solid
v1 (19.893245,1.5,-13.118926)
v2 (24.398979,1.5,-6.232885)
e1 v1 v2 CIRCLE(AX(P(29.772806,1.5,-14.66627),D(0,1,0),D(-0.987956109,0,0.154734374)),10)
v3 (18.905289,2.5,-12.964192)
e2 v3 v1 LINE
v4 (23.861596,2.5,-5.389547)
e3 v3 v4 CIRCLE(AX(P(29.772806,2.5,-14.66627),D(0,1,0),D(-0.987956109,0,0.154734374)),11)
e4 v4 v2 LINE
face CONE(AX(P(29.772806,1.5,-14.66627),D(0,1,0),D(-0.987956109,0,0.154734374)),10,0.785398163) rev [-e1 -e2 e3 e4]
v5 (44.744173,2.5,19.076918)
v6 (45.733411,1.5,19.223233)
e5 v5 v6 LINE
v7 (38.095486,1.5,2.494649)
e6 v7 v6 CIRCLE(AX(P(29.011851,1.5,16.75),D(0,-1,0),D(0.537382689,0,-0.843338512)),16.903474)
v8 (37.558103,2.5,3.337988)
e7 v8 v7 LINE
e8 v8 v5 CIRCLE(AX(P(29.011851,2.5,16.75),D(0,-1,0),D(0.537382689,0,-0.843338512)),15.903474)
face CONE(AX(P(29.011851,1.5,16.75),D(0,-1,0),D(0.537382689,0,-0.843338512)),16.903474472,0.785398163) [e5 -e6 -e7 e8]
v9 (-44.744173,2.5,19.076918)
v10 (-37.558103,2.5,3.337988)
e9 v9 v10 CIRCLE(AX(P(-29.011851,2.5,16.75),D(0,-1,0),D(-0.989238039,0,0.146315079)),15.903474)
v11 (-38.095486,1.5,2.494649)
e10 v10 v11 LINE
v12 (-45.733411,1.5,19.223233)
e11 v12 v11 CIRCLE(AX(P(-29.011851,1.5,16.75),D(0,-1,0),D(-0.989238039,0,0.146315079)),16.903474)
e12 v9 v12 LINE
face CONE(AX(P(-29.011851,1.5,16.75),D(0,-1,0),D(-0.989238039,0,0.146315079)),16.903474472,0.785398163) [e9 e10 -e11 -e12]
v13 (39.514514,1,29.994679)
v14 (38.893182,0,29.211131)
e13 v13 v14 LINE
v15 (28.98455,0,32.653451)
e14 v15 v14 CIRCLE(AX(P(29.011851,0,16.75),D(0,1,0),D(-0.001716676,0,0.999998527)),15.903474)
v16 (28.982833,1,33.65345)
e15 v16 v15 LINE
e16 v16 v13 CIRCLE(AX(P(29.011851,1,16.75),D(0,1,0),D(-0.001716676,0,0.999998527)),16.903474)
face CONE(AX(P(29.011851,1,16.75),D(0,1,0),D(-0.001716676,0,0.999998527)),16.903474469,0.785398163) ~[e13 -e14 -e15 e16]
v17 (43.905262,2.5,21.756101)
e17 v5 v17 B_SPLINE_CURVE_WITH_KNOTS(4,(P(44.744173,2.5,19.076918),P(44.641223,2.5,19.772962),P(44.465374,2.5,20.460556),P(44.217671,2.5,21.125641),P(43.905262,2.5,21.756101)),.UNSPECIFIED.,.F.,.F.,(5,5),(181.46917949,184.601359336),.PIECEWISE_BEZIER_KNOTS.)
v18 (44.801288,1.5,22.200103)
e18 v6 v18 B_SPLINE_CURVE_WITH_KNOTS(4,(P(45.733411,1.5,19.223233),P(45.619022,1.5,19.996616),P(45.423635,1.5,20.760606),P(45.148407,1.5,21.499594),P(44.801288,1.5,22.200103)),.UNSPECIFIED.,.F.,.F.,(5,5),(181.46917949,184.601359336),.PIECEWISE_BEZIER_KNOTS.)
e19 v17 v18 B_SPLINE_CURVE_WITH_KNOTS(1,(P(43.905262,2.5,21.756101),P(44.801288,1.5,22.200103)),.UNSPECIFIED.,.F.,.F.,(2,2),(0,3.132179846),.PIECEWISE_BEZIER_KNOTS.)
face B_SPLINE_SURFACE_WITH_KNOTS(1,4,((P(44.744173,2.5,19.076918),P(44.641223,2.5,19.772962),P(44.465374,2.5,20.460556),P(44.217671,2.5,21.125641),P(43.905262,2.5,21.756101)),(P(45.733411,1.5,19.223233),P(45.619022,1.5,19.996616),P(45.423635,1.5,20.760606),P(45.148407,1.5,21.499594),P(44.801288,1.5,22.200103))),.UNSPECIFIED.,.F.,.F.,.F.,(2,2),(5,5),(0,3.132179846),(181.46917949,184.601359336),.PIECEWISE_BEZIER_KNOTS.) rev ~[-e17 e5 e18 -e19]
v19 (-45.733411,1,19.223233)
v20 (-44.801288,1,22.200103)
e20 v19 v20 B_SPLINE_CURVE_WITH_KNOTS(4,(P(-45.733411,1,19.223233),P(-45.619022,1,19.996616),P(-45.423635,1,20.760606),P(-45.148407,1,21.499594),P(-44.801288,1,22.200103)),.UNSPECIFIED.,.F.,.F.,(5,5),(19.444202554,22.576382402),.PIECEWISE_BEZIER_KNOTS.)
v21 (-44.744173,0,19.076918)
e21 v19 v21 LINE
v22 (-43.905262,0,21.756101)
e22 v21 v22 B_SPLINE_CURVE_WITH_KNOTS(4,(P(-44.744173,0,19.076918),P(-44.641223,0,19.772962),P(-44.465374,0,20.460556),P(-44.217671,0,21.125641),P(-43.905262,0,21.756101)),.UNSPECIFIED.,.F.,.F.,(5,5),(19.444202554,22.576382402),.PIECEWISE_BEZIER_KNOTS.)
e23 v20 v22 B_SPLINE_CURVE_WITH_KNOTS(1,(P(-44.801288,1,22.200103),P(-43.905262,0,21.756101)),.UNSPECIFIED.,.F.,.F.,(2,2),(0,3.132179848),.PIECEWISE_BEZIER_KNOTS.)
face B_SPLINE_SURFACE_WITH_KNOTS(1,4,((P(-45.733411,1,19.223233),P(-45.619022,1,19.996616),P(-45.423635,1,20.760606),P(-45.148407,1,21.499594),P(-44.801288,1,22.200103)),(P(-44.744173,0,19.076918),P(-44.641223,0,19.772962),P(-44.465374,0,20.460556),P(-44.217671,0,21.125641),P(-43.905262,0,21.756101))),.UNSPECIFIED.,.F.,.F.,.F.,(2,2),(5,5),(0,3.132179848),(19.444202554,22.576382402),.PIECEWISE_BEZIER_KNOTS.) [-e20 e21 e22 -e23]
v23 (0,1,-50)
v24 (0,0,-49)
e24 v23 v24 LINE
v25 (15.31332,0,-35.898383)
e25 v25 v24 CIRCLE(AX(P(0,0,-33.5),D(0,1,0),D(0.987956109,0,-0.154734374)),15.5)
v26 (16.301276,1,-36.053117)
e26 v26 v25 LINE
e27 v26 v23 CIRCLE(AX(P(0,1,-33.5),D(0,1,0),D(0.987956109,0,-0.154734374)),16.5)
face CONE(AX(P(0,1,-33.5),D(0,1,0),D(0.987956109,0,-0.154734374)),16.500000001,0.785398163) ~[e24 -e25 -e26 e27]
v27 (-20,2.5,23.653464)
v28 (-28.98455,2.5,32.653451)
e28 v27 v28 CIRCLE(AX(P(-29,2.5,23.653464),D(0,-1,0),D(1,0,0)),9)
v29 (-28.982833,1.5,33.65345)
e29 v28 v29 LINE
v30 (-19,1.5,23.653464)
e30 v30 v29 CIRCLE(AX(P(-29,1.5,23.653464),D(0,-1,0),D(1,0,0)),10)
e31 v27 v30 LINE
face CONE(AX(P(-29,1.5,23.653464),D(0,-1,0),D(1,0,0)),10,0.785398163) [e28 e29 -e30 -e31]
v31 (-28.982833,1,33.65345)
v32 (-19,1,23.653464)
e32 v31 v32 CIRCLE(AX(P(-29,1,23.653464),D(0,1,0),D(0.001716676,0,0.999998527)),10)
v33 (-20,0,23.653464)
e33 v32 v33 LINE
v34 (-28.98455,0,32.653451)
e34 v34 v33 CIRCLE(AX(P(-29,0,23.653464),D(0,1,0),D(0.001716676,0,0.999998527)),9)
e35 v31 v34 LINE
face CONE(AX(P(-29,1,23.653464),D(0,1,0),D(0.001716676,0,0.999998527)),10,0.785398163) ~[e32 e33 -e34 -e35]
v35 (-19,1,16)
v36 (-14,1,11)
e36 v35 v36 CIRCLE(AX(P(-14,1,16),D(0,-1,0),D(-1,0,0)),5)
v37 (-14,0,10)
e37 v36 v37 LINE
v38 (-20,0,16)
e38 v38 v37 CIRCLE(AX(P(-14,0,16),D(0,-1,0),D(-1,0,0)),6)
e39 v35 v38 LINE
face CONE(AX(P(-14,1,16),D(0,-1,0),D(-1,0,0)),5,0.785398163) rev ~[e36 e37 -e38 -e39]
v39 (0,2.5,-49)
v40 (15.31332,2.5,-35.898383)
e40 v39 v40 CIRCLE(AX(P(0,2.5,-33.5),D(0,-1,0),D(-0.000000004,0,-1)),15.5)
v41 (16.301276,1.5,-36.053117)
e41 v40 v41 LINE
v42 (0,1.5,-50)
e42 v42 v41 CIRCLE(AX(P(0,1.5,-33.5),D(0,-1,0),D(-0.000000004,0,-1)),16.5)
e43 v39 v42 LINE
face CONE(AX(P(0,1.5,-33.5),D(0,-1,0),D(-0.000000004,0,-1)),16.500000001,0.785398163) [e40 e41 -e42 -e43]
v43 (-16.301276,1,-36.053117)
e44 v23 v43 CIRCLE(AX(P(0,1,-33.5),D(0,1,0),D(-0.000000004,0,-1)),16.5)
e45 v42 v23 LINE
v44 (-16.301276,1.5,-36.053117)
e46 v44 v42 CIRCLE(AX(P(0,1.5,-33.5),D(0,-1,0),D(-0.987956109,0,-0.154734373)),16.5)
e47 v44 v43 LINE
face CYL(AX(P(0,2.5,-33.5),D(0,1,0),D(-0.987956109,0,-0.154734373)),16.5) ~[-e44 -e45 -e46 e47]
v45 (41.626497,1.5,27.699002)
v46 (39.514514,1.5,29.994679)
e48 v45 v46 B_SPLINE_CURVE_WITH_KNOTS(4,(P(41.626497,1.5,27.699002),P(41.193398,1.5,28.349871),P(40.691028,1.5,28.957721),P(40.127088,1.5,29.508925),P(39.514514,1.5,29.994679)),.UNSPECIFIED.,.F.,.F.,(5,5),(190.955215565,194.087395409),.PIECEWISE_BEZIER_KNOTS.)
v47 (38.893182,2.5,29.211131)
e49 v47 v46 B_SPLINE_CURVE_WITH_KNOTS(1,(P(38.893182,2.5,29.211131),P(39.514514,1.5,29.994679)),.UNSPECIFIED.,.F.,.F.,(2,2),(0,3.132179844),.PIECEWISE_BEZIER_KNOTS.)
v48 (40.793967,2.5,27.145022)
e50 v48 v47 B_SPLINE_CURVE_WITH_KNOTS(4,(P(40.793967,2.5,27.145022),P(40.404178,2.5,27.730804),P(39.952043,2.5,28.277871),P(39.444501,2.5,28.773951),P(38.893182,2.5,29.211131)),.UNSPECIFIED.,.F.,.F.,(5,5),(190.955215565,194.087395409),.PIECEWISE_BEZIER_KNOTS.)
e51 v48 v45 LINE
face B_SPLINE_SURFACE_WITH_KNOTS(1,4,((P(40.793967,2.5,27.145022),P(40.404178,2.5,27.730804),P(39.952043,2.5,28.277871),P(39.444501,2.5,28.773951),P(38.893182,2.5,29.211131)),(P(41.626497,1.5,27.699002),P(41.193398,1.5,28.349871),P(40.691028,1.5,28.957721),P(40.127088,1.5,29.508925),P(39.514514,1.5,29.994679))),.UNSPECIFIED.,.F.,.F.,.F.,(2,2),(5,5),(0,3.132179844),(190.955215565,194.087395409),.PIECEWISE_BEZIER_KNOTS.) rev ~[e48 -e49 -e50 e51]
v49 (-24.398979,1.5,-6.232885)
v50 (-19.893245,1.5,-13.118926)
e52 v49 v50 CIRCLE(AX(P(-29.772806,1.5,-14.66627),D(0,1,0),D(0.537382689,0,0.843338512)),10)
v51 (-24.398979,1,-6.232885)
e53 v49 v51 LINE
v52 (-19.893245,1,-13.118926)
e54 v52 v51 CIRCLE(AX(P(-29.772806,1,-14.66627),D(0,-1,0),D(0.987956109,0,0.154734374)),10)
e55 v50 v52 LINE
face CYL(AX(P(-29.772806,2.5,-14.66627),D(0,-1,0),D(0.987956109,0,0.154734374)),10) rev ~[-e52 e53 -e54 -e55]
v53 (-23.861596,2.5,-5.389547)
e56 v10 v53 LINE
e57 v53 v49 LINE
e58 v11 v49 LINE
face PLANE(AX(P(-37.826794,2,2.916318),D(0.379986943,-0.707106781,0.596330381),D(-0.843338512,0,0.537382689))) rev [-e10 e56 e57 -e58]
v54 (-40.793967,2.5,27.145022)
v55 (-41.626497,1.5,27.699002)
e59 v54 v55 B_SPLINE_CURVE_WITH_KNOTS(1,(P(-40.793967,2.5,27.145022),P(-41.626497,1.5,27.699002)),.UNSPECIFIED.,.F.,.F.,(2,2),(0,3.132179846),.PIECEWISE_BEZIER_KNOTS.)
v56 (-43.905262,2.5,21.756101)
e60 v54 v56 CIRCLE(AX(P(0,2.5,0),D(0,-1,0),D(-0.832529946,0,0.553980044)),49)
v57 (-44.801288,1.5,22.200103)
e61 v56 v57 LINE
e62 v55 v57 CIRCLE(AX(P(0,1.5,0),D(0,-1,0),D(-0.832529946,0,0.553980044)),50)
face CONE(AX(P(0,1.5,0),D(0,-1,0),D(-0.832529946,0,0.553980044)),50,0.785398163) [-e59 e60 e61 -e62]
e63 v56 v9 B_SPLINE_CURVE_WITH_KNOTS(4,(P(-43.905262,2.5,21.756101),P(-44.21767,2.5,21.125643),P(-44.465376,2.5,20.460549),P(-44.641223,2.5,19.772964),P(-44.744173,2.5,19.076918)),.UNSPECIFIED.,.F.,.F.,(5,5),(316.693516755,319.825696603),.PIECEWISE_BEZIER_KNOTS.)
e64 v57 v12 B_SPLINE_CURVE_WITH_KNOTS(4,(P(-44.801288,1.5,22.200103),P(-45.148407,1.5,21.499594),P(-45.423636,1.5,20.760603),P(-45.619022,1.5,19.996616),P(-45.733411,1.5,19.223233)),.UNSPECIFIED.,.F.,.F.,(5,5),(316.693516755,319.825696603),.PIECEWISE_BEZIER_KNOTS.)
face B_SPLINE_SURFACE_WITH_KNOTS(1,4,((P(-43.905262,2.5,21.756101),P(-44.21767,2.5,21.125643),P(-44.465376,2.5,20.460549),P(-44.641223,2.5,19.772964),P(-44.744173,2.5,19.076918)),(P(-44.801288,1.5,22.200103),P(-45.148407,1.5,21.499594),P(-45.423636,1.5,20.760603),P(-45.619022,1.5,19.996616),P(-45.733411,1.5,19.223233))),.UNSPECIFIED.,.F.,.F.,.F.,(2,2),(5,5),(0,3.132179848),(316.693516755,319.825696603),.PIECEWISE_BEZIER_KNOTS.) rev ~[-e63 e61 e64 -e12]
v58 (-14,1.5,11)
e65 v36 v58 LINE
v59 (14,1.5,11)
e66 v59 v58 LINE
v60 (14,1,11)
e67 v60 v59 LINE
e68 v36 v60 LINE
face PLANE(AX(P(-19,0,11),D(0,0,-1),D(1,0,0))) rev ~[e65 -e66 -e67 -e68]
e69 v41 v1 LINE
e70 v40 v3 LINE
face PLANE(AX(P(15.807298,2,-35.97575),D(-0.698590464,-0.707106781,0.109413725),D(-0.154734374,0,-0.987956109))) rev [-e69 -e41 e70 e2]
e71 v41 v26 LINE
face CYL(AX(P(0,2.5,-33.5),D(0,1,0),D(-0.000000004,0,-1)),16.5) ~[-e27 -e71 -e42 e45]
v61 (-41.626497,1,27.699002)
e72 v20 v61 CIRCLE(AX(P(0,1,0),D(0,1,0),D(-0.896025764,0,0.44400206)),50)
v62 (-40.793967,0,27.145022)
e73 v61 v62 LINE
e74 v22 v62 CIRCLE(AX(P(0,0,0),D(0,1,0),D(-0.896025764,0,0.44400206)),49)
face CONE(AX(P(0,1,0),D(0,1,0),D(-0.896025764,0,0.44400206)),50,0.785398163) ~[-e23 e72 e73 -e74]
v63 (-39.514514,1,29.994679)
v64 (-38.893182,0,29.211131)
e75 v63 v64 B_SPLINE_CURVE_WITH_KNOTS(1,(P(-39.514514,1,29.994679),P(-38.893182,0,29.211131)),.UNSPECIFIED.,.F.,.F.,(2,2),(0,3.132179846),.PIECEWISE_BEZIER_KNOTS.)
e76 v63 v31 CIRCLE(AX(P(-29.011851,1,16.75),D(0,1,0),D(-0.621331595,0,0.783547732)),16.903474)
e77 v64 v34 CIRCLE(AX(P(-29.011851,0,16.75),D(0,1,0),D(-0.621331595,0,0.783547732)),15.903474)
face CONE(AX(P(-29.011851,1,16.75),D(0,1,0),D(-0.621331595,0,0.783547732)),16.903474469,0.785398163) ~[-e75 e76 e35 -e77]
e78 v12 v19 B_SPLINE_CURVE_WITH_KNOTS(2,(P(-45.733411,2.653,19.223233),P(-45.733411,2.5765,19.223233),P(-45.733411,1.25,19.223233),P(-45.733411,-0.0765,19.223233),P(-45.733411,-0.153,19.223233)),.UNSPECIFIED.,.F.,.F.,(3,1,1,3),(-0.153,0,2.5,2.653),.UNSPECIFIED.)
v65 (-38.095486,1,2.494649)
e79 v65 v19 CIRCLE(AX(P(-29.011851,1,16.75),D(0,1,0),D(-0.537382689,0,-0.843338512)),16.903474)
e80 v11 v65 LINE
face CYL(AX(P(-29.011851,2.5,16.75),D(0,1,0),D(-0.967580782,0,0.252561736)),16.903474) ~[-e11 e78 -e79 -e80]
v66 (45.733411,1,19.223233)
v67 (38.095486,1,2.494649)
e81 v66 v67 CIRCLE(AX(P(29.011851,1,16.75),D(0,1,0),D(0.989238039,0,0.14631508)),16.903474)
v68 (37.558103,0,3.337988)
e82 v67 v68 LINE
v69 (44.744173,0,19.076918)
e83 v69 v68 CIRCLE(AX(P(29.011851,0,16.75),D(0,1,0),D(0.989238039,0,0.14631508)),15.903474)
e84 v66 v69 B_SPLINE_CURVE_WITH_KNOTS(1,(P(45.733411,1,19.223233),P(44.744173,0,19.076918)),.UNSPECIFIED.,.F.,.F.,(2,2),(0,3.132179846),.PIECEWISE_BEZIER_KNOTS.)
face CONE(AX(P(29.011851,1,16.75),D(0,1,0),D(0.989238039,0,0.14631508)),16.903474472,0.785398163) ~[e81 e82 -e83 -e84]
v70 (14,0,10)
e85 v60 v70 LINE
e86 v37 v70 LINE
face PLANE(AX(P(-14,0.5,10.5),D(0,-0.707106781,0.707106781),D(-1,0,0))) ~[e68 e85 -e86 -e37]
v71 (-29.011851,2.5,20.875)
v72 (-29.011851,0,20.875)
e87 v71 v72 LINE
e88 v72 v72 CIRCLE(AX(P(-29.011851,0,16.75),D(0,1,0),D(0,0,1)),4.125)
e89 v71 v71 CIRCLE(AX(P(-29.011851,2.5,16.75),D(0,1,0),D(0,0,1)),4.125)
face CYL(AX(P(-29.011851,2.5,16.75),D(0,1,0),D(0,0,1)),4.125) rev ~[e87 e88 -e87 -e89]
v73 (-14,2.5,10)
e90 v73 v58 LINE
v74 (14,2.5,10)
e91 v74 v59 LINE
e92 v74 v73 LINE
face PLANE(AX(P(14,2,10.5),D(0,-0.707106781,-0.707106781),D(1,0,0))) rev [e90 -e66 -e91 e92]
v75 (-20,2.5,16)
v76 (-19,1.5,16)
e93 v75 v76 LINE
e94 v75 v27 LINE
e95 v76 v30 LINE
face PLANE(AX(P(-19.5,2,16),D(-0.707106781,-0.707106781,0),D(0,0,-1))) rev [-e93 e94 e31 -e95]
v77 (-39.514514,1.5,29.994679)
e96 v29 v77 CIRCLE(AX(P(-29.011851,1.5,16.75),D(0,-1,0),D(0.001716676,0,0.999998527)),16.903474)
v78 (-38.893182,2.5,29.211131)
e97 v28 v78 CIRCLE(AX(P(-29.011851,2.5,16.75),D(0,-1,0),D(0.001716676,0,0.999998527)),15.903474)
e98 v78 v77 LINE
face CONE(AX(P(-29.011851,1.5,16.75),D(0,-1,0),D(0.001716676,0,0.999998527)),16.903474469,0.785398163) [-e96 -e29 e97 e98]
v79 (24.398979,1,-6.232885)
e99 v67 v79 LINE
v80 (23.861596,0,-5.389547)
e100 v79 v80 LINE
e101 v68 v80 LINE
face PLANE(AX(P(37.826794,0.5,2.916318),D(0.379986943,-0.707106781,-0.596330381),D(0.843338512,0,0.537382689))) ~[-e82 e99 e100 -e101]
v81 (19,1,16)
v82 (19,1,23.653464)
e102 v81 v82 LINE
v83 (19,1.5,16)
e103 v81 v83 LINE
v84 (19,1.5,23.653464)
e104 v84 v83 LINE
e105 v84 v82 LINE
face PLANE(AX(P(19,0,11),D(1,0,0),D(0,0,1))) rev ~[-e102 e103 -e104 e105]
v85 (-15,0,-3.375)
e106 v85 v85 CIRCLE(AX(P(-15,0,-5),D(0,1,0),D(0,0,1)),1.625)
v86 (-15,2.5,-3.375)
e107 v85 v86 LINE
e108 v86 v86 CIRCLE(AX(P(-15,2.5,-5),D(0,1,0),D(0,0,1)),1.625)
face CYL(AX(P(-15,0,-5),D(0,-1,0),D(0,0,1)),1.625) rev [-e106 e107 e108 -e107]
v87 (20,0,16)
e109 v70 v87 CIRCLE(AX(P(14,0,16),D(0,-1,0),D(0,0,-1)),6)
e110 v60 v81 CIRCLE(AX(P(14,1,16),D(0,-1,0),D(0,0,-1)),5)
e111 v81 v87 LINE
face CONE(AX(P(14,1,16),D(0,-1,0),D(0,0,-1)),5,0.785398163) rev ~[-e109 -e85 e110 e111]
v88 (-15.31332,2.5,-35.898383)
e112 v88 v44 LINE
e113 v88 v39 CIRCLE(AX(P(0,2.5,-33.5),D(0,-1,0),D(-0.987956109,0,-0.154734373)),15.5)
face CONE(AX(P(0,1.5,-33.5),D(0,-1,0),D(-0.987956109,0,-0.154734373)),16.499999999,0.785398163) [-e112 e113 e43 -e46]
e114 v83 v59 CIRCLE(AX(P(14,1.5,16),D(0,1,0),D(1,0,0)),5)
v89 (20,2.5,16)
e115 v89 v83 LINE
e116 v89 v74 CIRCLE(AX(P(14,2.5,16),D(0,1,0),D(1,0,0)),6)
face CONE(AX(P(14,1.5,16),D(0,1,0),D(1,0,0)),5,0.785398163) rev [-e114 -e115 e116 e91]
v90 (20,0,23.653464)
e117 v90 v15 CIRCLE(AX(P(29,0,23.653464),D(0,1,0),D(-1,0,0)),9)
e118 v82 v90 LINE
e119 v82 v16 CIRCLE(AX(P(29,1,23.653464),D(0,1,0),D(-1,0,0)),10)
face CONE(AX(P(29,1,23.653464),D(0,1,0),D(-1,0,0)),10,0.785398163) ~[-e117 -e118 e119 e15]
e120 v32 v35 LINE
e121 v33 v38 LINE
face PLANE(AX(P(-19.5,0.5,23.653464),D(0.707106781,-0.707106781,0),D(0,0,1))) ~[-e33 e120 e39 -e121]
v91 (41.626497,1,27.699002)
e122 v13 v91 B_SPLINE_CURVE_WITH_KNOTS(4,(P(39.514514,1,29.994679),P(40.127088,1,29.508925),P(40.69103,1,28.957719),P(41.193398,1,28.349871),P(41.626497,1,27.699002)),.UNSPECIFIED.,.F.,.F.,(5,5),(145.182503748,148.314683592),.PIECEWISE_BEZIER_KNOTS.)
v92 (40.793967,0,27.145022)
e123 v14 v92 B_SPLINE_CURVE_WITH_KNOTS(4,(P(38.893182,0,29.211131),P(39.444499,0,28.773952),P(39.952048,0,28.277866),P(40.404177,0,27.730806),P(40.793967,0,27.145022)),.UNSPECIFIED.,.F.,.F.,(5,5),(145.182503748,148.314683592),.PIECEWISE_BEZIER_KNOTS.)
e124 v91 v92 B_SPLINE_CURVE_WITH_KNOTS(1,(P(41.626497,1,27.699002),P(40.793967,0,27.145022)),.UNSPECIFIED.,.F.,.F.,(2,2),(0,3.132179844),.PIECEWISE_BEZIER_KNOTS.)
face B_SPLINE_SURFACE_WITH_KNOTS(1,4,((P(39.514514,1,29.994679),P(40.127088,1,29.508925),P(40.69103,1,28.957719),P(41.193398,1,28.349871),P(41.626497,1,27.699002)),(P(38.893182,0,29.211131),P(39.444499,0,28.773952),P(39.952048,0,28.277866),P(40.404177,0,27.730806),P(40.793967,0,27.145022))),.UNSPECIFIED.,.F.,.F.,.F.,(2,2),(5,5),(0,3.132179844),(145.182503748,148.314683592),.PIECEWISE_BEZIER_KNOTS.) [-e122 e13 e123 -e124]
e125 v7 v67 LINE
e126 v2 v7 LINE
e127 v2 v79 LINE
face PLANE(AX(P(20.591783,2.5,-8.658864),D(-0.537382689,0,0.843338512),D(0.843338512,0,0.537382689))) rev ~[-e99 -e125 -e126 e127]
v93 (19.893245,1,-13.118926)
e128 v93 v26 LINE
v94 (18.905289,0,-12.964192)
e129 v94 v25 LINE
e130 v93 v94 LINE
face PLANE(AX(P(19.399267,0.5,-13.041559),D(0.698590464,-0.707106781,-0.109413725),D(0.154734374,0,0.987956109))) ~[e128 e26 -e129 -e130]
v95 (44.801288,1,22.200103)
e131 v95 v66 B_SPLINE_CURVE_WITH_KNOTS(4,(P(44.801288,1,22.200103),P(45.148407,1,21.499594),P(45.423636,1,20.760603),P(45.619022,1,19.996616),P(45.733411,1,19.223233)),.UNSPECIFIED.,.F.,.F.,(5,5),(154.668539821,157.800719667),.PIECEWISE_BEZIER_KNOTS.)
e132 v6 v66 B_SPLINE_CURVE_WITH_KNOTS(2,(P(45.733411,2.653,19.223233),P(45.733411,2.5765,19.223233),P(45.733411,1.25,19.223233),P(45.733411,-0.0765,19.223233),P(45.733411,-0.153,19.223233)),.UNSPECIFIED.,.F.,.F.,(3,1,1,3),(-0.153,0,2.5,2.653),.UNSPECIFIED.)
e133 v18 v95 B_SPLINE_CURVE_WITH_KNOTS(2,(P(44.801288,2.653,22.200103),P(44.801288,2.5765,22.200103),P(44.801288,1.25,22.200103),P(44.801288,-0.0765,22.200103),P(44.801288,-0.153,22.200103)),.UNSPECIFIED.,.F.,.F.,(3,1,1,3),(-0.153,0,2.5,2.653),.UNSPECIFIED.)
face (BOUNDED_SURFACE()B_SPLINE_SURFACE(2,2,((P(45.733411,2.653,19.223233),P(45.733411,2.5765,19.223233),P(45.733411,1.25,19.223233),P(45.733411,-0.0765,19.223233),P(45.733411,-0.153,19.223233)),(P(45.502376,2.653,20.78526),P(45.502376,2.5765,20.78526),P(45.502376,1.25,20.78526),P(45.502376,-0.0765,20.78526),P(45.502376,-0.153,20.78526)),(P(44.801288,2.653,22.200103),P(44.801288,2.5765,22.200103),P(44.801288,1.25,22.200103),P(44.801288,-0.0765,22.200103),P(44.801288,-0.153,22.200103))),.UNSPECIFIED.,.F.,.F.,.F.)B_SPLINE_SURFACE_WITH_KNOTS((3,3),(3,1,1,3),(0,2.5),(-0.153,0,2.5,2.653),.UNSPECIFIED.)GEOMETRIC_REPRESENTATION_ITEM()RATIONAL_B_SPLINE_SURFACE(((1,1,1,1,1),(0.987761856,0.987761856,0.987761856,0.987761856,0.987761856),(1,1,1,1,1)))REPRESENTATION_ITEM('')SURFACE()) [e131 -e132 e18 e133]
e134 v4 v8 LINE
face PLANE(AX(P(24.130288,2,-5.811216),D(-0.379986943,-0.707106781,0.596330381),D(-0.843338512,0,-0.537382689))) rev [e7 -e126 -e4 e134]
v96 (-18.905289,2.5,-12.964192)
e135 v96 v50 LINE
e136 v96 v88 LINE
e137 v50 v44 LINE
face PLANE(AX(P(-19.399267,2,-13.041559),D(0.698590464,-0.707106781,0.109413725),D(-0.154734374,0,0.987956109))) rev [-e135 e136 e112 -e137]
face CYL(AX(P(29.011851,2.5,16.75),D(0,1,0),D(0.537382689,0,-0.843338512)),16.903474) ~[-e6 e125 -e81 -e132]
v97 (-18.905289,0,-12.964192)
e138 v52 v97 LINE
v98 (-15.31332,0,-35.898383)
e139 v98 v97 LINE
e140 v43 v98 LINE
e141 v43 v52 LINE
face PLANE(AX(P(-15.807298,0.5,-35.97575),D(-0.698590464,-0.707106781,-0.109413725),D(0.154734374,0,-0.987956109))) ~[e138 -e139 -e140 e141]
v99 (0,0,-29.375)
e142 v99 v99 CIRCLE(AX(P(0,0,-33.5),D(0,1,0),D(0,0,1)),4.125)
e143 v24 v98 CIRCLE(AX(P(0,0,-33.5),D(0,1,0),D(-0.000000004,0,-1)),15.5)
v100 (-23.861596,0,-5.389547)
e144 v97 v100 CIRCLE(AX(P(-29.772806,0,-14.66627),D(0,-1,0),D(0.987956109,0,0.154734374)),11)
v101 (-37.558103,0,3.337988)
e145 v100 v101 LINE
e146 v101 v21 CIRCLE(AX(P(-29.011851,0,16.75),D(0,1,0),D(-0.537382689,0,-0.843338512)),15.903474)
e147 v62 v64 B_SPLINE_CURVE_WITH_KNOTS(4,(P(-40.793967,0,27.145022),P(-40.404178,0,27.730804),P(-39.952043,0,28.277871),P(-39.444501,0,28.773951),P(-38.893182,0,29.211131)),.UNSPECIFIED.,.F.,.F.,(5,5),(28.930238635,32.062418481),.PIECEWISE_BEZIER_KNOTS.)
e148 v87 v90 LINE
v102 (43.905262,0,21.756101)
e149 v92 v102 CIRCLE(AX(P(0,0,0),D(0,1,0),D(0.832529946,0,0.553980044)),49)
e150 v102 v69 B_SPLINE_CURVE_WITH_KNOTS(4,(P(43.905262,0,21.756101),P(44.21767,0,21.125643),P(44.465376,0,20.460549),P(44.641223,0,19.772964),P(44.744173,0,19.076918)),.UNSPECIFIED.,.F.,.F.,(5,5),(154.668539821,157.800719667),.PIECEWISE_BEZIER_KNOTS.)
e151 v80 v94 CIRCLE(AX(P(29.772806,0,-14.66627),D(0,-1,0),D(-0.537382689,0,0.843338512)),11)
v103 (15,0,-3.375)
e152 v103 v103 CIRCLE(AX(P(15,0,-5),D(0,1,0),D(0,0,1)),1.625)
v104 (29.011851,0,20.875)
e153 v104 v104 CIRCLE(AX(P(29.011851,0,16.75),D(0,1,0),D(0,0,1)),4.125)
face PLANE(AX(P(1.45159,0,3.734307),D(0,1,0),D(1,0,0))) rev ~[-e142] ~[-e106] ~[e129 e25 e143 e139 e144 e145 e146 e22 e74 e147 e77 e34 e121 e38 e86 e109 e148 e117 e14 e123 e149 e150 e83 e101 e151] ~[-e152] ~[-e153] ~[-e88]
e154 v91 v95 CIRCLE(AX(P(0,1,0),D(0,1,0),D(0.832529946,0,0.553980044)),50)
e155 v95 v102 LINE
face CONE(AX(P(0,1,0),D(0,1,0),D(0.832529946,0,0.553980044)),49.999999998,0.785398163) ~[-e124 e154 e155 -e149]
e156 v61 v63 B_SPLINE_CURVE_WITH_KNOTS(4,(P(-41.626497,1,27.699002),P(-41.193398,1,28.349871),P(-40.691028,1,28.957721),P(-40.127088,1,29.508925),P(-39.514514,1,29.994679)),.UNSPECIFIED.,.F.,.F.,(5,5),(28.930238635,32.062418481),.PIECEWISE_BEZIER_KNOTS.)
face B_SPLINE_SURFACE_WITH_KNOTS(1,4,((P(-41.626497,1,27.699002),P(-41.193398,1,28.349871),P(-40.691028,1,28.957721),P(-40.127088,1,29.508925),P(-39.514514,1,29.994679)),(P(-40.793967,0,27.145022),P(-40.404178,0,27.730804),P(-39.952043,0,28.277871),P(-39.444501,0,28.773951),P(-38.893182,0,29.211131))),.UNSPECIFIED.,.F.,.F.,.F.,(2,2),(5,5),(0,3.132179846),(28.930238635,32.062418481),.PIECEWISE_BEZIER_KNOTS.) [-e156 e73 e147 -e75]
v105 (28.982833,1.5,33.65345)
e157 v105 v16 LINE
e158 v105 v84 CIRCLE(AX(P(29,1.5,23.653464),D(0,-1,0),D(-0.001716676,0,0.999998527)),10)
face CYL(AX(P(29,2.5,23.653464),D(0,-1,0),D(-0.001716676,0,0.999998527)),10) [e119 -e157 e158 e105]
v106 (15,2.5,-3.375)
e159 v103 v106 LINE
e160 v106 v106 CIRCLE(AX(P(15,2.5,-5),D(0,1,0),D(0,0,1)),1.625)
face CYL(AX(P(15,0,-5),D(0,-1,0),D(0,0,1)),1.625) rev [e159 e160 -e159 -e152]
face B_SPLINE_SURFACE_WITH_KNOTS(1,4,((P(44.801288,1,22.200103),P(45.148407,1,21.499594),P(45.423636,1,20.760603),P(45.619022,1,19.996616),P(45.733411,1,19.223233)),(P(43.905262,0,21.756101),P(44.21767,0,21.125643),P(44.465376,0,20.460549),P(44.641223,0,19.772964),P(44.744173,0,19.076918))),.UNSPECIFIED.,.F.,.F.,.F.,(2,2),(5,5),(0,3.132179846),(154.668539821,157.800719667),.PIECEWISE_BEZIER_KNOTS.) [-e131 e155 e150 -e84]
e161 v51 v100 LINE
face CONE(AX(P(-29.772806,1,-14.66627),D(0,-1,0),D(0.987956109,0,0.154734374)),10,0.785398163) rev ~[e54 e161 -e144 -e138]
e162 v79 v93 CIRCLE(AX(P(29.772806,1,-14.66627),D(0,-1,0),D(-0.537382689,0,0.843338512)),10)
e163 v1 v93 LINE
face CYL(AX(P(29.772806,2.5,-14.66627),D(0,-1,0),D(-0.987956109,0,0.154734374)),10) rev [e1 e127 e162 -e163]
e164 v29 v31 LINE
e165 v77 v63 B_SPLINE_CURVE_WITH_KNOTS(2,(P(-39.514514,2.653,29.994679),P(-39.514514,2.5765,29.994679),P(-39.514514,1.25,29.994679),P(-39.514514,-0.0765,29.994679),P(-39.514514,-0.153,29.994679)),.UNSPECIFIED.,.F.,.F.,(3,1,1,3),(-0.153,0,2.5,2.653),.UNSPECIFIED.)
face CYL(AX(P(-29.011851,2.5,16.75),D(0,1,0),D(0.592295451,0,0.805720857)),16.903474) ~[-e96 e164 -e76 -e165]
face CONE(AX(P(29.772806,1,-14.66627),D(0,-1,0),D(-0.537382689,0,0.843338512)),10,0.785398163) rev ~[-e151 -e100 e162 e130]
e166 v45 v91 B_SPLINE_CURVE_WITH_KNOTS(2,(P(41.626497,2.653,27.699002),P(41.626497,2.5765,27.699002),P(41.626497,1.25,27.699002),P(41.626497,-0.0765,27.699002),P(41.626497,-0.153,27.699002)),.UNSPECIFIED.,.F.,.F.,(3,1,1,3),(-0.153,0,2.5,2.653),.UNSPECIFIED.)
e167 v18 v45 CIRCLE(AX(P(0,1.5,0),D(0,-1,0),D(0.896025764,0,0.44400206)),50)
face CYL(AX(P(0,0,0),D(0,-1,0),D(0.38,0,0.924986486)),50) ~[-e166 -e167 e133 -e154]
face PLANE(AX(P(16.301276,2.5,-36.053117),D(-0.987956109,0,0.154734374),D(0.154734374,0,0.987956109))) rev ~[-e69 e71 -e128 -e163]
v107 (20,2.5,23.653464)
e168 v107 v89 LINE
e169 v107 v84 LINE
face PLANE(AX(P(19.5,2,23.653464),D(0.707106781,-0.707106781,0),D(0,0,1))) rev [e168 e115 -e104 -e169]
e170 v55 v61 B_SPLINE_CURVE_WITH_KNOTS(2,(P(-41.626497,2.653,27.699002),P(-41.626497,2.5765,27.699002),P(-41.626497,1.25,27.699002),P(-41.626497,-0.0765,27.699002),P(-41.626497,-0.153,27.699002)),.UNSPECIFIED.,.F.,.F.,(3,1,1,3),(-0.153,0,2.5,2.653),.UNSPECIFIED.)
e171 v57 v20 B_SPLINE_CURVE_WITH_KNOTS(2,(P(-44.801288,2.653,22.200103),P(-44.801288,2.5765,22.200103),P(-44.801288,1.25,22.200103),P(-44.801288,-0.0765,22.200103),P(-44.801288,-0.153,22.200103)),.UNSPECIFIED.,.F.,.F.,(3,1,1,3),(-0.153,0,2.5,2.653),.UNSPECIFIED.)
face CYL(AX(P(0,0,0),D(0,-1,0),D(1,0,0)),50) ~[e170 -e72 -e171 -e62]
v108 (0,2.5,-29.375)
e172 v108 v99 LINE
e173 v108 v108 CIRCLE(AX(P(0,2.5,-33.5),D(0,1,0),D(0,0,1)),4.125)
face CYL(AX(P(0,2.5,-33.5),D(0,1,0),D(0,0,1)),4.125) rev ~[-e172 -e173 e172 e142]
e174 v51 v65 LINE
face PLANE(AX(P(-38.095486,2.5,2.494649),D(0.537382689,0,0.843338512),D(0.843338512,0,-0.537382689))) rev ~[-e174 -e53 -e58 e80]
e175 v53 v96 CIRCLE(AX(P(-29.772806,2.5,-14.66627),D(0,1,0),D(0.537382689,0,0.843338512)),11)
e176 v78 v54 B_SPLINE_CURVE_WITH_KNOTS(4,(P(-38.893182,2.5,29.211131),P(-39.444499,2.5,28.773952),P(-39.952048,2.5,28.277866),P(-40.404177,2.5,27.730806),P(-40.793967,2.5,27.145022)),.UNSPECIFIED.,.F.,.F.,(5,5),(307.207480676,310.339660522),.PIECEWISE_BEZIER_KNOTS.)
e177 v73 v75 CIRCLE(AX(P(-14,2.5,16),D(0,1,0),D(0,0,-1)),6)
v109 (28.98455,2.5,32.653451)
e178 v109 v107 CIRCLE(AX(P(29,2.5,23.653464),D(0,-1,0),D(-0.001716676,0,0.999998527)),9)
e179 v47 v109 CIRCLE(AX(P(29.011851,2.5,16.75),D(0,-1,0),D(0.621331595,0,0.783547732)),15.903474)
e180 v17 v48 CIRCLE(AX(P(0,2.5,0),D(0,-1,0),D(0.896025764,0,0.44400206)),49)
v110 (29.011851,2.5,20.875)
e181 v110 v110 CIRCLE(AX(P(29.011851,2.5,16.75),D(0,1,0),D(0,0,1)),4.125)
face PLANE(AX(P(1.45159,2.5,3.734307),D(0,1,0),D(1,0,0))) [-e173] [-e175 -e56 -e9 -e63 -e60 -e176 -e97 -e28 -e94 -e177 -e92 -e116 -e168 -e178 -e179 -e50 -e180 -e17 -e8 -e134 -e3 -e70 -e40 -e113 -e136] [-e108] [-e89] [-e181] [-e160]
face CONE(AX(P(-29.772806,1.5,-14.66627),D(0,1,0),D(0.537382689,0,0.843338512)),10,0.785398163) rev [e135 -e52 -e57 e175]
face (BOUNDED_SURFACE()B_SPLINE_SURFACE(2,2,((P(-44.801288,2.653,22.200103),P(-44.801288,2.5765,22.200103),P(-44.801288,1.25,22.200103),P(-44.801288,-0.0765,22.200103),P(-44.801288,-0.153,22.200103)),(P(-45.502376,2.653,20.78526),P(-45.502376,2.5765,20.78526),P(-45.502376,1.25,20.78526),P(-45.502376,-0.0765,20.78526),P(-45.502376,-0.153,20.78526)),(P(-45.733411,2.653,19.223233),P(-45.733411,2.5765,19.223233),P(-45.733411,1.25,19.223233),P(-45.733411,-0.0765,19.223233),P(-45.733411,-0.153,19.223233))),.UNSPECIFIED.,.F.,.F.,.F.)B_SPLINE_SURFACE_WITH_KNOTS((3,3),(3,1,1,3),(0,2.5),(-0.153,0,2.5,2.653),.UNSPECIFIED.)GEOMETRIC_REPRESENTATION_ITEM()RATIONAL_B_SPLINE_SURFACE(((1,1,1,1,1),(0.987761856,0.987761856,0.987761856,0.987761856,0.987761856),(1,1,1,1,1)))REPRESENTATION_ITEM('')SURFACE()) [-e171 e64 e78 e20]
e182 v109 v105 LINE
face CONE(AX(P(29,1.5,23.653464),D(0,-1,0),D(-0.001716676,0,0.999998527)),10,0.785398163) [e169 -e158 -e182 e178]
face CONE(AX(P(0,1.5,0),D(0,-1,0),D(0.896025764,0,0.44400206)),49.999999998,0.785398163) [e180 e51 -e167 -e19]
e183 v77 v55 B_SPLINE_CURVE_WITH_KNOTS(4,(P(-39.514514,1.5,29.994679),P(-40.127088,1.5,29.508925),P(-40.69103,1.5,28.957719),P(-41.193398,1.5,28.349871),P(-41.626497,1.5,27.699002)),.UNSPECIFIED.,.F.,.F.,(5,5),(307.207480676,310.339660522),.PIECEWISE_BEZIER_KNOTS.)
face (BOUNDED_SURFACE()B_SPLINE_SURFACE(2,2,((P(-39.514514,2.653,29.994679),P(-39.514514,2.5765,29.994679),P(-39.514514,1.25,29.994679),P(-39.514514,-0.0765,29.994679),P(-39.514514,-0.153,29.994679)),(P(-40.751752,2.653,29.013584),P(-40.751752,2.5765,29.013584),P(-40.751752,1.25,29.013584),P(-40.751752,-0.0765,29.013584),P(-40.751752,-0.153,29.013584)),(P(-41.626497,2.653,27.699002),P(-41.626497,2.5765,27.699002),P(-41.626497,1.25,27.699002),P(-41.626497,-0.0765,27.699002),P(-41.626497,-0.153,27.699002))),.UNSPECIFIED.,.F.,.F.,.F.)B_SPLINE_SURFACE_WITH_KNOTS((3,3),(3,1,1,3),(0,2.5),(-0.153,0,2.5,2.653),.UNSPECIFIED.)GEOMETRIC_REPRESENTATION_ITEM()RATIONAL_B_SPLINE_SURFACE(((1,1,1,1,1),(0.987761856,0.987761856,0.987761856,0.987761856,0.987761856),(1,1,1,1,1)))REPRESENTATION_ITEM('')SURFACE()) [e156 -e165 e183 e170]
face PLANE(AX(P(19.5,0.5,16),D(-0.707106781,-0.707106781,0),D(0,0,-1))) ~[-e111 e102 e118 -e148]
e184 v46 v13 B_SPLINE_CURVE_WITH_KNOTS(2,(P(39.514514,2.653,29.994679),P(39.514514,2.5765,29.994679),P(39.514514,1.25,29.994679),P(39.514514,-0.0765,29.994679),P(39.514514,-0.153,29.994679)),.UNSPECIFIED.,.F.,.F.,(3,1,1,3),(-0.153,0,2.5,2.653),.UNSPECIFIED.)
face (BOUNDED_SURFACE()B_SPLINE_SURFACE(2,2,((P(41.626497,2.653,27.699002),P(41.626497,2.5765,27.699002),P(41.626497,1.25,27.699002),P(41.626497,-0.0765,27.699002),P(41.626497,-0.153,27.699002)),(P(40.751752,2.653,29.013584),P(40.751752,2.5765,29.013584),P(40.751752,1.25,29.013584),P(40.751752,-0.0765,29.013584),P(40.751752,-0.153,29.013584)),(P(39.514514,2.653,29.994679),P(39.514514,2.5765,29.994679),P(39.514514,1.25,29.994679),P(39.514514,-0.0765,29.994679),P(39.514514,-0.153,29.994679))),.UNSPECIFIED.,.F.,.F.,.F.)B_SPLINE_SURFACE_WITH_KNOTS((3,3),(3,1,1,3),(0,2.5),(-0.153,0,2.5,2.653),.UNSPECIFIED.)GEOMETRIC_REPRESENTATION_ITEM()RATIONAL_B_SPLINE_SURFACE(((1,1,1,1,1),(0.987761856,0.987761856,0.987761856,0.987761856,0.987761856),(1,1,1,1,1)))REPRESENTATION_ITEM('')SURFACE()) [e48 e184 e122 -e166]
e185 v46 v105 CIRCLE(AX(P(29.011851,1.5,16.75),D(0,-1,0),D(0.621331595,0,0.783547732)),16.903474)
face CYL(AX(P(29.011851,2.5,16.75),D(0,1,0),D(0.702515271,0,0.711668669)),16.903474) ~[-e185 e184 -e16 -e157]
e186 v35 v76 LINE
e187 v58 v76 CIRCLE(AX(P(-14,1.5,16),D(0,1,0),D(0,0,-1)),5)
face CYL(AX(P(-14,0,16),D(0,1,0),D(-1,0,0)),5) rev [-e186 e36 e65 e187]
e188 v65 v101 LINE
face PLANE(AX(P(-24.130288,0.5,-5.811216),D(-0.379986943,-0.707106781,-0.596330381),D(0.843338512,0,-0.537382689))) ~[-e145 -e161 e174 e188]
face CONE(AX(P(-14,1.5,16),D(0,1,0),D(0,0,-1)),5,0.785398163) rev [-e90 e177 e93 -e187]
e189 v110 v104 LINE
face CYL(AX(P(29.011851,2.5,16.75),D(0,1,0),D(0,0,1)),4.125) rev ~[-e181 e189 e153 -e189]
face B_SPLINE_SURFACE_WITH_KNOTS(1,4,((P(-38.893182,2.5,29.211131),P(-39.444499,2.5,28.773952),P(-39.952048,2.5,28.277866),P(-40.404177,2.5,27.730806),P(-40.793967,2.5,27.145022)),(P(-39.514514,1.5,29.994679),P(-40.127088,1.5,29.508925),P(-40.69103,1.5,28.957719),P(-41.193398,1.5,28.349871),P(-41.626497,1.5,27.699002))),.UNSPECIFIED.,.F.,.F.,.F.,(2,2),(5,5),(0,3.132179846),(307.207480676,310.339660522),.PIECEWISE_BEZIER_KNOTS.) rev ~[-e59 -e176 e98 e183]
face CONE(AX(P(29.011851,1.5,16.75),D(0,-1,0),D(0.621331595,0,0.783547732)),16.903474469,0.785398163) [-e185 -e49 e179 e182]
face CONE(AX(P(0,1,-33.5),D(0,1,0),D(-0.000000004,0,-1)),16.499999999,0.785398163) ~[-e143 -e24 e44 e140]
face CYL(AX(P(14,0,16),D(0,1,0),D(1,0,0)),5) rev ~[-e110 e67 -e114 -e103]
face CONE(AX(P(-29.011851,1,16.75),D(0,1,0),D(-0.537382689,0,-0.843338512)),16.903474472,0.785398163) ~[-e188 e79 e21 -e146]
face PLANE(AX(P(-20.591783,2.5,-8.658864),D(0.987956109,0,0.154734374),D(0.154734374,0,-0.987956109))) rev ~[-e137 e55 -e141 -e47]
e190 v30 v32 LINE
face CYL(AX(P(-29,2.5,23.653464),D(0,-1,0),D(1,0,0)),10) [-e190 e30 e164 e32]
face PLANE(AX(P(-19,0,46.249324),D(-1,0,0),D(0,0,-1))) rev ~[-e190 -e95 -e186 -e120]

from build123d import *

# Parameters (mm, degrees)
SKETCH1_R           = 1.625
BOSS_EXTRUDE1_DEPTH = 2.5
FILLET1_R           = 5
SKETCH3_R           = 4.125
CUT_EXTRUDE2_DEPTH  = 71.75485849
CUT_EXTRUDE3_DEPTH  = 71.75485849
FILLET2_R           = 10
CHAMFER1_SIZE       = 1


with BuildPart() as part:
    # Sketch1 → Boss-Extrude1 (new body)
    with BuildSketch(Plane(origin=(0, 0, 0), x_dir=(1, 0, 0), z_dir=(0, 1, 0))):
        with BuildLine():
            ThreePointArc((50, 0), (-27.838821814, 41.533119315), (-19, -46.249324319))
            Line((-19, -46.249324319), (-19, -11))
            Line((-19, -11), (19, -11))
            Line((19, -11), (19, -46.249324319))
            ThreePointArc((19, -46.249324319), (41.533119315, -27.838821814), (50, 0))
        make_face()
        with Locations(Location((-15, 5, 0), (0, 0, 270))):
            Circle(SKETCH1_R, mode=Mode.SUBTRACT)
        with Locations(Location((15, 5, 0), (0, 0, 270))):
            Circle(SKETCH1_R, mode=Mode.SUBTRACT)
    extrude(amount=BOSS_EXTRUDE1_DEPTH)

    # Fillet1
    fillet1_edges = [part.edges().sort_by_distance(p)[0] for p in [
        (19, 1.25, 46.249324319),
        (19, 1.25, 11),
        (-19, 1.25, 11),
        (-19, 1.25, 46.249324319),
    ]]
    fillet(fillet1_edges, radius=FILLET1_R)

    # Sketch3 → Cut-Extrude2 (cut, through all)
    with BuildSketch(Plane(origin=(0, 2.5, 0), x_dir=(1, 0, 0), z_dir=(0, 1, 0))):
        with Locations(Location((0, 33.5, 0), (0, 0, 270))):
            Circle(SKETCH3_R)
        with Locations(Location((29.011851027, -16.75, 0), (0, 0, 270))):
            Circle(SKETCH3_R)
        with Locations(Location((-29.011851027, -16.75, 0), (0, 0, 270))):
            Circle(SKETCH3_R)
    extrude(amount=-CUT_EXTRUDE2_DEPTH, mode=Mode.SUBTRACT)

    # Sketch4 → Cut-Extrude3 (cut, through all)
    with BuildSketch(Plane(origin=(0, 2.5, 0), x_dir=(1, 0, 0), z_dir=(0, 1, 0))):
        with BuildLine():
            ThreePointArc((-19, -30.369481935), (-30.236455629, -33.609056698), (-40.88679997, -28.779673178))
            ThreePointArc((-40.88679997, -28.779673178), (-34.446124239, -36.241751129), (-26.666666667, -42.295258468))
            ThreePointArc((-26.666666667, -42.295258468), (-21.584770542, -42.4437078), (-19, -38.065732621))
            Line((-19, -38.065732621), (-19, -30.369481935))
        make_face()
        with BuildLine():
            Line((19, -30.369481935), (19, -38.065732621))
            ThreePointArc((19, -38.065732621), (21.584770542, -42.4437078), (26.666666667, -42.295258468))
            ThreePointArc((26.666666667, -42.295258468), (34.446124239, -36.241751129), (40.88679997, -28.779673178))
            ThreePointArc((40.88679997, -28.779673178), (30.236455629, -33.609056698), (19, -30.369481935))
        make_face()
        with BuildLine():
            ThreePointArc((-6.8e-08, 50), (-42.136436408, 26.916922685), (-45.36732807, -21.019170864))
            ThreePointArc((-45.36732807, -21.019170864), (-44.746417351, -10.573360804), (-38.095485584, -2.49464899))
            Line((-38.095485584, -2.49464899), (-20.59178284, 8.658863751))
            Line((-20.59178284, 8.658863751), (-16.301275801, 36.053117163))
            ThreePointArc((-16.301275801, 36.053117163), (-10.7266856, 46.037472474), (-6.8e-08, 50))
        make_face()
        with BuildLine():
            ThreePointArc((45.36732807, -21.019170864), (42.136436371, 26.916922743), (-6.8e-08, 50))
            ThreePointArc((-6.8e-08, 50), (10.726685548, 46.037472518), (16.301275801, 36.053117163))
            Line((16.301275801, 36.053117163), (20.59178284, 8.658863751))
            Line((20.59178284, 8.658863751), (38.095485584, -2.49464899))
            ThreePointArc((38.095485584, -2.49464899), (44.746417351, -10.573360804), (45.36732807, -21.019170864))
        make_face()
    extrude(amount=-CUT_EXTRUDE3_DEPTH, mode=Mode.SUBTRACT)

    # Fillet2
    fillet2_edges = [part.edges().sort_by_distance(p)[0] for p in [
        (40.88679997, 1.25, 28.779673178),
        (-45.36732807, 1.25, 21.019170864),
        (-20.59178284, 1.25, -8.658863751),
        (45.36732807, 1.25, 21.019170864),
        (20.59178284, 1.25, -8.658863751),
        (-40.88679997, 1.25, 28.779673178),
        (-19, 1.25, 30.369481935),
        (19, 1.25, 30.369481935),
    ]]
    fillet(fillet2_edges, radius=FILLET2_R)

    # Chamfer1
    chamfer1_edges = [part.edges().sort_by_distance(p)[0] for p in [
        (-44.388404549, 2.5, 9.729383862),
        (-18.097260259, 2.5, -24.5860218),
        (-44.388404549, 0, 9.729383862),
        (-18.097260259, 0, -24.5860218),
        (-43.301270189, 2.5, 25),
        (-43.301270189, 0, 25),
        (-34.559008869, 2.5, 32.717356984),
        (-19, 2.5, 19.826732149),
        (34.559008869, 2.5, 32.717356984),
        (43.301270189, 2.5, 25),
        (44.388404549, 2.5, 9.729383862),
        (31.247232254, 2.5, -1.86911803),
        (-31.247232254, 2.5, -1.86911803),
        (21.922865426, 2.5, 30.718460138),
        (-21.922865426, 2.5, 30.718460138),
        (40.660570606, 2.5, 28.929698969),
        (45.384139534, 2.5, 20.748237593),
        (-45.384139534, 2.5, 20.748237593),
        (-40.660570606, 2.5, 28.929698969),
        (-34.559008869, 0, 32.717356984),
        (-31.247232254, 0, -1.86911803),
        (31.247232254, 0, -1.86911803),
        (44.388404549, 0, 9.729383862),
        (43.301270189, 0, 25),
        (34.559008869, 0, 32.717356984),
        (-19, 0, 19.826732149),
        (21.922865426, 0, 30.718460138),
        (-21.922865426, 0, 30.718460138),
        (40.660570606, 0, 28.929698969),
        (45.384139534, 0, 20.748237593),
        (-45.384139534, 0, 20.748237593),
        (-40.660570606, 0, 28.929698969),
        (21.40495945, 2.5, -9.190948509),
        (21.40495945, 0, -9.190948509),
        (-21.40495945, 2.5, -9.190948509),
        (-21.40495945, 0, -9.190948509),
        (19, 0, 19.826732149),
        (0, 0, 11),
        (19, 2.5, 19.826732149),
        (0, 2.5, 11),
        (17.535533906, 0, 12.464466094),
        (17.535533906, 2.5, 12.464466094),
        (-17.535533906, 0, 12.464466094),
        (-17.535533906, 2.5, 12.464466094),
        (18.097260259, 0, -24.5860218),
        (0, 2.5, -50),
        (0, 0, -50),
        (18.097260259, 2.5, -24.5860218),
    ]]
    chamfer(chamfer1_edges, length=CHAMFER1_SIZE)


solid = part.part
